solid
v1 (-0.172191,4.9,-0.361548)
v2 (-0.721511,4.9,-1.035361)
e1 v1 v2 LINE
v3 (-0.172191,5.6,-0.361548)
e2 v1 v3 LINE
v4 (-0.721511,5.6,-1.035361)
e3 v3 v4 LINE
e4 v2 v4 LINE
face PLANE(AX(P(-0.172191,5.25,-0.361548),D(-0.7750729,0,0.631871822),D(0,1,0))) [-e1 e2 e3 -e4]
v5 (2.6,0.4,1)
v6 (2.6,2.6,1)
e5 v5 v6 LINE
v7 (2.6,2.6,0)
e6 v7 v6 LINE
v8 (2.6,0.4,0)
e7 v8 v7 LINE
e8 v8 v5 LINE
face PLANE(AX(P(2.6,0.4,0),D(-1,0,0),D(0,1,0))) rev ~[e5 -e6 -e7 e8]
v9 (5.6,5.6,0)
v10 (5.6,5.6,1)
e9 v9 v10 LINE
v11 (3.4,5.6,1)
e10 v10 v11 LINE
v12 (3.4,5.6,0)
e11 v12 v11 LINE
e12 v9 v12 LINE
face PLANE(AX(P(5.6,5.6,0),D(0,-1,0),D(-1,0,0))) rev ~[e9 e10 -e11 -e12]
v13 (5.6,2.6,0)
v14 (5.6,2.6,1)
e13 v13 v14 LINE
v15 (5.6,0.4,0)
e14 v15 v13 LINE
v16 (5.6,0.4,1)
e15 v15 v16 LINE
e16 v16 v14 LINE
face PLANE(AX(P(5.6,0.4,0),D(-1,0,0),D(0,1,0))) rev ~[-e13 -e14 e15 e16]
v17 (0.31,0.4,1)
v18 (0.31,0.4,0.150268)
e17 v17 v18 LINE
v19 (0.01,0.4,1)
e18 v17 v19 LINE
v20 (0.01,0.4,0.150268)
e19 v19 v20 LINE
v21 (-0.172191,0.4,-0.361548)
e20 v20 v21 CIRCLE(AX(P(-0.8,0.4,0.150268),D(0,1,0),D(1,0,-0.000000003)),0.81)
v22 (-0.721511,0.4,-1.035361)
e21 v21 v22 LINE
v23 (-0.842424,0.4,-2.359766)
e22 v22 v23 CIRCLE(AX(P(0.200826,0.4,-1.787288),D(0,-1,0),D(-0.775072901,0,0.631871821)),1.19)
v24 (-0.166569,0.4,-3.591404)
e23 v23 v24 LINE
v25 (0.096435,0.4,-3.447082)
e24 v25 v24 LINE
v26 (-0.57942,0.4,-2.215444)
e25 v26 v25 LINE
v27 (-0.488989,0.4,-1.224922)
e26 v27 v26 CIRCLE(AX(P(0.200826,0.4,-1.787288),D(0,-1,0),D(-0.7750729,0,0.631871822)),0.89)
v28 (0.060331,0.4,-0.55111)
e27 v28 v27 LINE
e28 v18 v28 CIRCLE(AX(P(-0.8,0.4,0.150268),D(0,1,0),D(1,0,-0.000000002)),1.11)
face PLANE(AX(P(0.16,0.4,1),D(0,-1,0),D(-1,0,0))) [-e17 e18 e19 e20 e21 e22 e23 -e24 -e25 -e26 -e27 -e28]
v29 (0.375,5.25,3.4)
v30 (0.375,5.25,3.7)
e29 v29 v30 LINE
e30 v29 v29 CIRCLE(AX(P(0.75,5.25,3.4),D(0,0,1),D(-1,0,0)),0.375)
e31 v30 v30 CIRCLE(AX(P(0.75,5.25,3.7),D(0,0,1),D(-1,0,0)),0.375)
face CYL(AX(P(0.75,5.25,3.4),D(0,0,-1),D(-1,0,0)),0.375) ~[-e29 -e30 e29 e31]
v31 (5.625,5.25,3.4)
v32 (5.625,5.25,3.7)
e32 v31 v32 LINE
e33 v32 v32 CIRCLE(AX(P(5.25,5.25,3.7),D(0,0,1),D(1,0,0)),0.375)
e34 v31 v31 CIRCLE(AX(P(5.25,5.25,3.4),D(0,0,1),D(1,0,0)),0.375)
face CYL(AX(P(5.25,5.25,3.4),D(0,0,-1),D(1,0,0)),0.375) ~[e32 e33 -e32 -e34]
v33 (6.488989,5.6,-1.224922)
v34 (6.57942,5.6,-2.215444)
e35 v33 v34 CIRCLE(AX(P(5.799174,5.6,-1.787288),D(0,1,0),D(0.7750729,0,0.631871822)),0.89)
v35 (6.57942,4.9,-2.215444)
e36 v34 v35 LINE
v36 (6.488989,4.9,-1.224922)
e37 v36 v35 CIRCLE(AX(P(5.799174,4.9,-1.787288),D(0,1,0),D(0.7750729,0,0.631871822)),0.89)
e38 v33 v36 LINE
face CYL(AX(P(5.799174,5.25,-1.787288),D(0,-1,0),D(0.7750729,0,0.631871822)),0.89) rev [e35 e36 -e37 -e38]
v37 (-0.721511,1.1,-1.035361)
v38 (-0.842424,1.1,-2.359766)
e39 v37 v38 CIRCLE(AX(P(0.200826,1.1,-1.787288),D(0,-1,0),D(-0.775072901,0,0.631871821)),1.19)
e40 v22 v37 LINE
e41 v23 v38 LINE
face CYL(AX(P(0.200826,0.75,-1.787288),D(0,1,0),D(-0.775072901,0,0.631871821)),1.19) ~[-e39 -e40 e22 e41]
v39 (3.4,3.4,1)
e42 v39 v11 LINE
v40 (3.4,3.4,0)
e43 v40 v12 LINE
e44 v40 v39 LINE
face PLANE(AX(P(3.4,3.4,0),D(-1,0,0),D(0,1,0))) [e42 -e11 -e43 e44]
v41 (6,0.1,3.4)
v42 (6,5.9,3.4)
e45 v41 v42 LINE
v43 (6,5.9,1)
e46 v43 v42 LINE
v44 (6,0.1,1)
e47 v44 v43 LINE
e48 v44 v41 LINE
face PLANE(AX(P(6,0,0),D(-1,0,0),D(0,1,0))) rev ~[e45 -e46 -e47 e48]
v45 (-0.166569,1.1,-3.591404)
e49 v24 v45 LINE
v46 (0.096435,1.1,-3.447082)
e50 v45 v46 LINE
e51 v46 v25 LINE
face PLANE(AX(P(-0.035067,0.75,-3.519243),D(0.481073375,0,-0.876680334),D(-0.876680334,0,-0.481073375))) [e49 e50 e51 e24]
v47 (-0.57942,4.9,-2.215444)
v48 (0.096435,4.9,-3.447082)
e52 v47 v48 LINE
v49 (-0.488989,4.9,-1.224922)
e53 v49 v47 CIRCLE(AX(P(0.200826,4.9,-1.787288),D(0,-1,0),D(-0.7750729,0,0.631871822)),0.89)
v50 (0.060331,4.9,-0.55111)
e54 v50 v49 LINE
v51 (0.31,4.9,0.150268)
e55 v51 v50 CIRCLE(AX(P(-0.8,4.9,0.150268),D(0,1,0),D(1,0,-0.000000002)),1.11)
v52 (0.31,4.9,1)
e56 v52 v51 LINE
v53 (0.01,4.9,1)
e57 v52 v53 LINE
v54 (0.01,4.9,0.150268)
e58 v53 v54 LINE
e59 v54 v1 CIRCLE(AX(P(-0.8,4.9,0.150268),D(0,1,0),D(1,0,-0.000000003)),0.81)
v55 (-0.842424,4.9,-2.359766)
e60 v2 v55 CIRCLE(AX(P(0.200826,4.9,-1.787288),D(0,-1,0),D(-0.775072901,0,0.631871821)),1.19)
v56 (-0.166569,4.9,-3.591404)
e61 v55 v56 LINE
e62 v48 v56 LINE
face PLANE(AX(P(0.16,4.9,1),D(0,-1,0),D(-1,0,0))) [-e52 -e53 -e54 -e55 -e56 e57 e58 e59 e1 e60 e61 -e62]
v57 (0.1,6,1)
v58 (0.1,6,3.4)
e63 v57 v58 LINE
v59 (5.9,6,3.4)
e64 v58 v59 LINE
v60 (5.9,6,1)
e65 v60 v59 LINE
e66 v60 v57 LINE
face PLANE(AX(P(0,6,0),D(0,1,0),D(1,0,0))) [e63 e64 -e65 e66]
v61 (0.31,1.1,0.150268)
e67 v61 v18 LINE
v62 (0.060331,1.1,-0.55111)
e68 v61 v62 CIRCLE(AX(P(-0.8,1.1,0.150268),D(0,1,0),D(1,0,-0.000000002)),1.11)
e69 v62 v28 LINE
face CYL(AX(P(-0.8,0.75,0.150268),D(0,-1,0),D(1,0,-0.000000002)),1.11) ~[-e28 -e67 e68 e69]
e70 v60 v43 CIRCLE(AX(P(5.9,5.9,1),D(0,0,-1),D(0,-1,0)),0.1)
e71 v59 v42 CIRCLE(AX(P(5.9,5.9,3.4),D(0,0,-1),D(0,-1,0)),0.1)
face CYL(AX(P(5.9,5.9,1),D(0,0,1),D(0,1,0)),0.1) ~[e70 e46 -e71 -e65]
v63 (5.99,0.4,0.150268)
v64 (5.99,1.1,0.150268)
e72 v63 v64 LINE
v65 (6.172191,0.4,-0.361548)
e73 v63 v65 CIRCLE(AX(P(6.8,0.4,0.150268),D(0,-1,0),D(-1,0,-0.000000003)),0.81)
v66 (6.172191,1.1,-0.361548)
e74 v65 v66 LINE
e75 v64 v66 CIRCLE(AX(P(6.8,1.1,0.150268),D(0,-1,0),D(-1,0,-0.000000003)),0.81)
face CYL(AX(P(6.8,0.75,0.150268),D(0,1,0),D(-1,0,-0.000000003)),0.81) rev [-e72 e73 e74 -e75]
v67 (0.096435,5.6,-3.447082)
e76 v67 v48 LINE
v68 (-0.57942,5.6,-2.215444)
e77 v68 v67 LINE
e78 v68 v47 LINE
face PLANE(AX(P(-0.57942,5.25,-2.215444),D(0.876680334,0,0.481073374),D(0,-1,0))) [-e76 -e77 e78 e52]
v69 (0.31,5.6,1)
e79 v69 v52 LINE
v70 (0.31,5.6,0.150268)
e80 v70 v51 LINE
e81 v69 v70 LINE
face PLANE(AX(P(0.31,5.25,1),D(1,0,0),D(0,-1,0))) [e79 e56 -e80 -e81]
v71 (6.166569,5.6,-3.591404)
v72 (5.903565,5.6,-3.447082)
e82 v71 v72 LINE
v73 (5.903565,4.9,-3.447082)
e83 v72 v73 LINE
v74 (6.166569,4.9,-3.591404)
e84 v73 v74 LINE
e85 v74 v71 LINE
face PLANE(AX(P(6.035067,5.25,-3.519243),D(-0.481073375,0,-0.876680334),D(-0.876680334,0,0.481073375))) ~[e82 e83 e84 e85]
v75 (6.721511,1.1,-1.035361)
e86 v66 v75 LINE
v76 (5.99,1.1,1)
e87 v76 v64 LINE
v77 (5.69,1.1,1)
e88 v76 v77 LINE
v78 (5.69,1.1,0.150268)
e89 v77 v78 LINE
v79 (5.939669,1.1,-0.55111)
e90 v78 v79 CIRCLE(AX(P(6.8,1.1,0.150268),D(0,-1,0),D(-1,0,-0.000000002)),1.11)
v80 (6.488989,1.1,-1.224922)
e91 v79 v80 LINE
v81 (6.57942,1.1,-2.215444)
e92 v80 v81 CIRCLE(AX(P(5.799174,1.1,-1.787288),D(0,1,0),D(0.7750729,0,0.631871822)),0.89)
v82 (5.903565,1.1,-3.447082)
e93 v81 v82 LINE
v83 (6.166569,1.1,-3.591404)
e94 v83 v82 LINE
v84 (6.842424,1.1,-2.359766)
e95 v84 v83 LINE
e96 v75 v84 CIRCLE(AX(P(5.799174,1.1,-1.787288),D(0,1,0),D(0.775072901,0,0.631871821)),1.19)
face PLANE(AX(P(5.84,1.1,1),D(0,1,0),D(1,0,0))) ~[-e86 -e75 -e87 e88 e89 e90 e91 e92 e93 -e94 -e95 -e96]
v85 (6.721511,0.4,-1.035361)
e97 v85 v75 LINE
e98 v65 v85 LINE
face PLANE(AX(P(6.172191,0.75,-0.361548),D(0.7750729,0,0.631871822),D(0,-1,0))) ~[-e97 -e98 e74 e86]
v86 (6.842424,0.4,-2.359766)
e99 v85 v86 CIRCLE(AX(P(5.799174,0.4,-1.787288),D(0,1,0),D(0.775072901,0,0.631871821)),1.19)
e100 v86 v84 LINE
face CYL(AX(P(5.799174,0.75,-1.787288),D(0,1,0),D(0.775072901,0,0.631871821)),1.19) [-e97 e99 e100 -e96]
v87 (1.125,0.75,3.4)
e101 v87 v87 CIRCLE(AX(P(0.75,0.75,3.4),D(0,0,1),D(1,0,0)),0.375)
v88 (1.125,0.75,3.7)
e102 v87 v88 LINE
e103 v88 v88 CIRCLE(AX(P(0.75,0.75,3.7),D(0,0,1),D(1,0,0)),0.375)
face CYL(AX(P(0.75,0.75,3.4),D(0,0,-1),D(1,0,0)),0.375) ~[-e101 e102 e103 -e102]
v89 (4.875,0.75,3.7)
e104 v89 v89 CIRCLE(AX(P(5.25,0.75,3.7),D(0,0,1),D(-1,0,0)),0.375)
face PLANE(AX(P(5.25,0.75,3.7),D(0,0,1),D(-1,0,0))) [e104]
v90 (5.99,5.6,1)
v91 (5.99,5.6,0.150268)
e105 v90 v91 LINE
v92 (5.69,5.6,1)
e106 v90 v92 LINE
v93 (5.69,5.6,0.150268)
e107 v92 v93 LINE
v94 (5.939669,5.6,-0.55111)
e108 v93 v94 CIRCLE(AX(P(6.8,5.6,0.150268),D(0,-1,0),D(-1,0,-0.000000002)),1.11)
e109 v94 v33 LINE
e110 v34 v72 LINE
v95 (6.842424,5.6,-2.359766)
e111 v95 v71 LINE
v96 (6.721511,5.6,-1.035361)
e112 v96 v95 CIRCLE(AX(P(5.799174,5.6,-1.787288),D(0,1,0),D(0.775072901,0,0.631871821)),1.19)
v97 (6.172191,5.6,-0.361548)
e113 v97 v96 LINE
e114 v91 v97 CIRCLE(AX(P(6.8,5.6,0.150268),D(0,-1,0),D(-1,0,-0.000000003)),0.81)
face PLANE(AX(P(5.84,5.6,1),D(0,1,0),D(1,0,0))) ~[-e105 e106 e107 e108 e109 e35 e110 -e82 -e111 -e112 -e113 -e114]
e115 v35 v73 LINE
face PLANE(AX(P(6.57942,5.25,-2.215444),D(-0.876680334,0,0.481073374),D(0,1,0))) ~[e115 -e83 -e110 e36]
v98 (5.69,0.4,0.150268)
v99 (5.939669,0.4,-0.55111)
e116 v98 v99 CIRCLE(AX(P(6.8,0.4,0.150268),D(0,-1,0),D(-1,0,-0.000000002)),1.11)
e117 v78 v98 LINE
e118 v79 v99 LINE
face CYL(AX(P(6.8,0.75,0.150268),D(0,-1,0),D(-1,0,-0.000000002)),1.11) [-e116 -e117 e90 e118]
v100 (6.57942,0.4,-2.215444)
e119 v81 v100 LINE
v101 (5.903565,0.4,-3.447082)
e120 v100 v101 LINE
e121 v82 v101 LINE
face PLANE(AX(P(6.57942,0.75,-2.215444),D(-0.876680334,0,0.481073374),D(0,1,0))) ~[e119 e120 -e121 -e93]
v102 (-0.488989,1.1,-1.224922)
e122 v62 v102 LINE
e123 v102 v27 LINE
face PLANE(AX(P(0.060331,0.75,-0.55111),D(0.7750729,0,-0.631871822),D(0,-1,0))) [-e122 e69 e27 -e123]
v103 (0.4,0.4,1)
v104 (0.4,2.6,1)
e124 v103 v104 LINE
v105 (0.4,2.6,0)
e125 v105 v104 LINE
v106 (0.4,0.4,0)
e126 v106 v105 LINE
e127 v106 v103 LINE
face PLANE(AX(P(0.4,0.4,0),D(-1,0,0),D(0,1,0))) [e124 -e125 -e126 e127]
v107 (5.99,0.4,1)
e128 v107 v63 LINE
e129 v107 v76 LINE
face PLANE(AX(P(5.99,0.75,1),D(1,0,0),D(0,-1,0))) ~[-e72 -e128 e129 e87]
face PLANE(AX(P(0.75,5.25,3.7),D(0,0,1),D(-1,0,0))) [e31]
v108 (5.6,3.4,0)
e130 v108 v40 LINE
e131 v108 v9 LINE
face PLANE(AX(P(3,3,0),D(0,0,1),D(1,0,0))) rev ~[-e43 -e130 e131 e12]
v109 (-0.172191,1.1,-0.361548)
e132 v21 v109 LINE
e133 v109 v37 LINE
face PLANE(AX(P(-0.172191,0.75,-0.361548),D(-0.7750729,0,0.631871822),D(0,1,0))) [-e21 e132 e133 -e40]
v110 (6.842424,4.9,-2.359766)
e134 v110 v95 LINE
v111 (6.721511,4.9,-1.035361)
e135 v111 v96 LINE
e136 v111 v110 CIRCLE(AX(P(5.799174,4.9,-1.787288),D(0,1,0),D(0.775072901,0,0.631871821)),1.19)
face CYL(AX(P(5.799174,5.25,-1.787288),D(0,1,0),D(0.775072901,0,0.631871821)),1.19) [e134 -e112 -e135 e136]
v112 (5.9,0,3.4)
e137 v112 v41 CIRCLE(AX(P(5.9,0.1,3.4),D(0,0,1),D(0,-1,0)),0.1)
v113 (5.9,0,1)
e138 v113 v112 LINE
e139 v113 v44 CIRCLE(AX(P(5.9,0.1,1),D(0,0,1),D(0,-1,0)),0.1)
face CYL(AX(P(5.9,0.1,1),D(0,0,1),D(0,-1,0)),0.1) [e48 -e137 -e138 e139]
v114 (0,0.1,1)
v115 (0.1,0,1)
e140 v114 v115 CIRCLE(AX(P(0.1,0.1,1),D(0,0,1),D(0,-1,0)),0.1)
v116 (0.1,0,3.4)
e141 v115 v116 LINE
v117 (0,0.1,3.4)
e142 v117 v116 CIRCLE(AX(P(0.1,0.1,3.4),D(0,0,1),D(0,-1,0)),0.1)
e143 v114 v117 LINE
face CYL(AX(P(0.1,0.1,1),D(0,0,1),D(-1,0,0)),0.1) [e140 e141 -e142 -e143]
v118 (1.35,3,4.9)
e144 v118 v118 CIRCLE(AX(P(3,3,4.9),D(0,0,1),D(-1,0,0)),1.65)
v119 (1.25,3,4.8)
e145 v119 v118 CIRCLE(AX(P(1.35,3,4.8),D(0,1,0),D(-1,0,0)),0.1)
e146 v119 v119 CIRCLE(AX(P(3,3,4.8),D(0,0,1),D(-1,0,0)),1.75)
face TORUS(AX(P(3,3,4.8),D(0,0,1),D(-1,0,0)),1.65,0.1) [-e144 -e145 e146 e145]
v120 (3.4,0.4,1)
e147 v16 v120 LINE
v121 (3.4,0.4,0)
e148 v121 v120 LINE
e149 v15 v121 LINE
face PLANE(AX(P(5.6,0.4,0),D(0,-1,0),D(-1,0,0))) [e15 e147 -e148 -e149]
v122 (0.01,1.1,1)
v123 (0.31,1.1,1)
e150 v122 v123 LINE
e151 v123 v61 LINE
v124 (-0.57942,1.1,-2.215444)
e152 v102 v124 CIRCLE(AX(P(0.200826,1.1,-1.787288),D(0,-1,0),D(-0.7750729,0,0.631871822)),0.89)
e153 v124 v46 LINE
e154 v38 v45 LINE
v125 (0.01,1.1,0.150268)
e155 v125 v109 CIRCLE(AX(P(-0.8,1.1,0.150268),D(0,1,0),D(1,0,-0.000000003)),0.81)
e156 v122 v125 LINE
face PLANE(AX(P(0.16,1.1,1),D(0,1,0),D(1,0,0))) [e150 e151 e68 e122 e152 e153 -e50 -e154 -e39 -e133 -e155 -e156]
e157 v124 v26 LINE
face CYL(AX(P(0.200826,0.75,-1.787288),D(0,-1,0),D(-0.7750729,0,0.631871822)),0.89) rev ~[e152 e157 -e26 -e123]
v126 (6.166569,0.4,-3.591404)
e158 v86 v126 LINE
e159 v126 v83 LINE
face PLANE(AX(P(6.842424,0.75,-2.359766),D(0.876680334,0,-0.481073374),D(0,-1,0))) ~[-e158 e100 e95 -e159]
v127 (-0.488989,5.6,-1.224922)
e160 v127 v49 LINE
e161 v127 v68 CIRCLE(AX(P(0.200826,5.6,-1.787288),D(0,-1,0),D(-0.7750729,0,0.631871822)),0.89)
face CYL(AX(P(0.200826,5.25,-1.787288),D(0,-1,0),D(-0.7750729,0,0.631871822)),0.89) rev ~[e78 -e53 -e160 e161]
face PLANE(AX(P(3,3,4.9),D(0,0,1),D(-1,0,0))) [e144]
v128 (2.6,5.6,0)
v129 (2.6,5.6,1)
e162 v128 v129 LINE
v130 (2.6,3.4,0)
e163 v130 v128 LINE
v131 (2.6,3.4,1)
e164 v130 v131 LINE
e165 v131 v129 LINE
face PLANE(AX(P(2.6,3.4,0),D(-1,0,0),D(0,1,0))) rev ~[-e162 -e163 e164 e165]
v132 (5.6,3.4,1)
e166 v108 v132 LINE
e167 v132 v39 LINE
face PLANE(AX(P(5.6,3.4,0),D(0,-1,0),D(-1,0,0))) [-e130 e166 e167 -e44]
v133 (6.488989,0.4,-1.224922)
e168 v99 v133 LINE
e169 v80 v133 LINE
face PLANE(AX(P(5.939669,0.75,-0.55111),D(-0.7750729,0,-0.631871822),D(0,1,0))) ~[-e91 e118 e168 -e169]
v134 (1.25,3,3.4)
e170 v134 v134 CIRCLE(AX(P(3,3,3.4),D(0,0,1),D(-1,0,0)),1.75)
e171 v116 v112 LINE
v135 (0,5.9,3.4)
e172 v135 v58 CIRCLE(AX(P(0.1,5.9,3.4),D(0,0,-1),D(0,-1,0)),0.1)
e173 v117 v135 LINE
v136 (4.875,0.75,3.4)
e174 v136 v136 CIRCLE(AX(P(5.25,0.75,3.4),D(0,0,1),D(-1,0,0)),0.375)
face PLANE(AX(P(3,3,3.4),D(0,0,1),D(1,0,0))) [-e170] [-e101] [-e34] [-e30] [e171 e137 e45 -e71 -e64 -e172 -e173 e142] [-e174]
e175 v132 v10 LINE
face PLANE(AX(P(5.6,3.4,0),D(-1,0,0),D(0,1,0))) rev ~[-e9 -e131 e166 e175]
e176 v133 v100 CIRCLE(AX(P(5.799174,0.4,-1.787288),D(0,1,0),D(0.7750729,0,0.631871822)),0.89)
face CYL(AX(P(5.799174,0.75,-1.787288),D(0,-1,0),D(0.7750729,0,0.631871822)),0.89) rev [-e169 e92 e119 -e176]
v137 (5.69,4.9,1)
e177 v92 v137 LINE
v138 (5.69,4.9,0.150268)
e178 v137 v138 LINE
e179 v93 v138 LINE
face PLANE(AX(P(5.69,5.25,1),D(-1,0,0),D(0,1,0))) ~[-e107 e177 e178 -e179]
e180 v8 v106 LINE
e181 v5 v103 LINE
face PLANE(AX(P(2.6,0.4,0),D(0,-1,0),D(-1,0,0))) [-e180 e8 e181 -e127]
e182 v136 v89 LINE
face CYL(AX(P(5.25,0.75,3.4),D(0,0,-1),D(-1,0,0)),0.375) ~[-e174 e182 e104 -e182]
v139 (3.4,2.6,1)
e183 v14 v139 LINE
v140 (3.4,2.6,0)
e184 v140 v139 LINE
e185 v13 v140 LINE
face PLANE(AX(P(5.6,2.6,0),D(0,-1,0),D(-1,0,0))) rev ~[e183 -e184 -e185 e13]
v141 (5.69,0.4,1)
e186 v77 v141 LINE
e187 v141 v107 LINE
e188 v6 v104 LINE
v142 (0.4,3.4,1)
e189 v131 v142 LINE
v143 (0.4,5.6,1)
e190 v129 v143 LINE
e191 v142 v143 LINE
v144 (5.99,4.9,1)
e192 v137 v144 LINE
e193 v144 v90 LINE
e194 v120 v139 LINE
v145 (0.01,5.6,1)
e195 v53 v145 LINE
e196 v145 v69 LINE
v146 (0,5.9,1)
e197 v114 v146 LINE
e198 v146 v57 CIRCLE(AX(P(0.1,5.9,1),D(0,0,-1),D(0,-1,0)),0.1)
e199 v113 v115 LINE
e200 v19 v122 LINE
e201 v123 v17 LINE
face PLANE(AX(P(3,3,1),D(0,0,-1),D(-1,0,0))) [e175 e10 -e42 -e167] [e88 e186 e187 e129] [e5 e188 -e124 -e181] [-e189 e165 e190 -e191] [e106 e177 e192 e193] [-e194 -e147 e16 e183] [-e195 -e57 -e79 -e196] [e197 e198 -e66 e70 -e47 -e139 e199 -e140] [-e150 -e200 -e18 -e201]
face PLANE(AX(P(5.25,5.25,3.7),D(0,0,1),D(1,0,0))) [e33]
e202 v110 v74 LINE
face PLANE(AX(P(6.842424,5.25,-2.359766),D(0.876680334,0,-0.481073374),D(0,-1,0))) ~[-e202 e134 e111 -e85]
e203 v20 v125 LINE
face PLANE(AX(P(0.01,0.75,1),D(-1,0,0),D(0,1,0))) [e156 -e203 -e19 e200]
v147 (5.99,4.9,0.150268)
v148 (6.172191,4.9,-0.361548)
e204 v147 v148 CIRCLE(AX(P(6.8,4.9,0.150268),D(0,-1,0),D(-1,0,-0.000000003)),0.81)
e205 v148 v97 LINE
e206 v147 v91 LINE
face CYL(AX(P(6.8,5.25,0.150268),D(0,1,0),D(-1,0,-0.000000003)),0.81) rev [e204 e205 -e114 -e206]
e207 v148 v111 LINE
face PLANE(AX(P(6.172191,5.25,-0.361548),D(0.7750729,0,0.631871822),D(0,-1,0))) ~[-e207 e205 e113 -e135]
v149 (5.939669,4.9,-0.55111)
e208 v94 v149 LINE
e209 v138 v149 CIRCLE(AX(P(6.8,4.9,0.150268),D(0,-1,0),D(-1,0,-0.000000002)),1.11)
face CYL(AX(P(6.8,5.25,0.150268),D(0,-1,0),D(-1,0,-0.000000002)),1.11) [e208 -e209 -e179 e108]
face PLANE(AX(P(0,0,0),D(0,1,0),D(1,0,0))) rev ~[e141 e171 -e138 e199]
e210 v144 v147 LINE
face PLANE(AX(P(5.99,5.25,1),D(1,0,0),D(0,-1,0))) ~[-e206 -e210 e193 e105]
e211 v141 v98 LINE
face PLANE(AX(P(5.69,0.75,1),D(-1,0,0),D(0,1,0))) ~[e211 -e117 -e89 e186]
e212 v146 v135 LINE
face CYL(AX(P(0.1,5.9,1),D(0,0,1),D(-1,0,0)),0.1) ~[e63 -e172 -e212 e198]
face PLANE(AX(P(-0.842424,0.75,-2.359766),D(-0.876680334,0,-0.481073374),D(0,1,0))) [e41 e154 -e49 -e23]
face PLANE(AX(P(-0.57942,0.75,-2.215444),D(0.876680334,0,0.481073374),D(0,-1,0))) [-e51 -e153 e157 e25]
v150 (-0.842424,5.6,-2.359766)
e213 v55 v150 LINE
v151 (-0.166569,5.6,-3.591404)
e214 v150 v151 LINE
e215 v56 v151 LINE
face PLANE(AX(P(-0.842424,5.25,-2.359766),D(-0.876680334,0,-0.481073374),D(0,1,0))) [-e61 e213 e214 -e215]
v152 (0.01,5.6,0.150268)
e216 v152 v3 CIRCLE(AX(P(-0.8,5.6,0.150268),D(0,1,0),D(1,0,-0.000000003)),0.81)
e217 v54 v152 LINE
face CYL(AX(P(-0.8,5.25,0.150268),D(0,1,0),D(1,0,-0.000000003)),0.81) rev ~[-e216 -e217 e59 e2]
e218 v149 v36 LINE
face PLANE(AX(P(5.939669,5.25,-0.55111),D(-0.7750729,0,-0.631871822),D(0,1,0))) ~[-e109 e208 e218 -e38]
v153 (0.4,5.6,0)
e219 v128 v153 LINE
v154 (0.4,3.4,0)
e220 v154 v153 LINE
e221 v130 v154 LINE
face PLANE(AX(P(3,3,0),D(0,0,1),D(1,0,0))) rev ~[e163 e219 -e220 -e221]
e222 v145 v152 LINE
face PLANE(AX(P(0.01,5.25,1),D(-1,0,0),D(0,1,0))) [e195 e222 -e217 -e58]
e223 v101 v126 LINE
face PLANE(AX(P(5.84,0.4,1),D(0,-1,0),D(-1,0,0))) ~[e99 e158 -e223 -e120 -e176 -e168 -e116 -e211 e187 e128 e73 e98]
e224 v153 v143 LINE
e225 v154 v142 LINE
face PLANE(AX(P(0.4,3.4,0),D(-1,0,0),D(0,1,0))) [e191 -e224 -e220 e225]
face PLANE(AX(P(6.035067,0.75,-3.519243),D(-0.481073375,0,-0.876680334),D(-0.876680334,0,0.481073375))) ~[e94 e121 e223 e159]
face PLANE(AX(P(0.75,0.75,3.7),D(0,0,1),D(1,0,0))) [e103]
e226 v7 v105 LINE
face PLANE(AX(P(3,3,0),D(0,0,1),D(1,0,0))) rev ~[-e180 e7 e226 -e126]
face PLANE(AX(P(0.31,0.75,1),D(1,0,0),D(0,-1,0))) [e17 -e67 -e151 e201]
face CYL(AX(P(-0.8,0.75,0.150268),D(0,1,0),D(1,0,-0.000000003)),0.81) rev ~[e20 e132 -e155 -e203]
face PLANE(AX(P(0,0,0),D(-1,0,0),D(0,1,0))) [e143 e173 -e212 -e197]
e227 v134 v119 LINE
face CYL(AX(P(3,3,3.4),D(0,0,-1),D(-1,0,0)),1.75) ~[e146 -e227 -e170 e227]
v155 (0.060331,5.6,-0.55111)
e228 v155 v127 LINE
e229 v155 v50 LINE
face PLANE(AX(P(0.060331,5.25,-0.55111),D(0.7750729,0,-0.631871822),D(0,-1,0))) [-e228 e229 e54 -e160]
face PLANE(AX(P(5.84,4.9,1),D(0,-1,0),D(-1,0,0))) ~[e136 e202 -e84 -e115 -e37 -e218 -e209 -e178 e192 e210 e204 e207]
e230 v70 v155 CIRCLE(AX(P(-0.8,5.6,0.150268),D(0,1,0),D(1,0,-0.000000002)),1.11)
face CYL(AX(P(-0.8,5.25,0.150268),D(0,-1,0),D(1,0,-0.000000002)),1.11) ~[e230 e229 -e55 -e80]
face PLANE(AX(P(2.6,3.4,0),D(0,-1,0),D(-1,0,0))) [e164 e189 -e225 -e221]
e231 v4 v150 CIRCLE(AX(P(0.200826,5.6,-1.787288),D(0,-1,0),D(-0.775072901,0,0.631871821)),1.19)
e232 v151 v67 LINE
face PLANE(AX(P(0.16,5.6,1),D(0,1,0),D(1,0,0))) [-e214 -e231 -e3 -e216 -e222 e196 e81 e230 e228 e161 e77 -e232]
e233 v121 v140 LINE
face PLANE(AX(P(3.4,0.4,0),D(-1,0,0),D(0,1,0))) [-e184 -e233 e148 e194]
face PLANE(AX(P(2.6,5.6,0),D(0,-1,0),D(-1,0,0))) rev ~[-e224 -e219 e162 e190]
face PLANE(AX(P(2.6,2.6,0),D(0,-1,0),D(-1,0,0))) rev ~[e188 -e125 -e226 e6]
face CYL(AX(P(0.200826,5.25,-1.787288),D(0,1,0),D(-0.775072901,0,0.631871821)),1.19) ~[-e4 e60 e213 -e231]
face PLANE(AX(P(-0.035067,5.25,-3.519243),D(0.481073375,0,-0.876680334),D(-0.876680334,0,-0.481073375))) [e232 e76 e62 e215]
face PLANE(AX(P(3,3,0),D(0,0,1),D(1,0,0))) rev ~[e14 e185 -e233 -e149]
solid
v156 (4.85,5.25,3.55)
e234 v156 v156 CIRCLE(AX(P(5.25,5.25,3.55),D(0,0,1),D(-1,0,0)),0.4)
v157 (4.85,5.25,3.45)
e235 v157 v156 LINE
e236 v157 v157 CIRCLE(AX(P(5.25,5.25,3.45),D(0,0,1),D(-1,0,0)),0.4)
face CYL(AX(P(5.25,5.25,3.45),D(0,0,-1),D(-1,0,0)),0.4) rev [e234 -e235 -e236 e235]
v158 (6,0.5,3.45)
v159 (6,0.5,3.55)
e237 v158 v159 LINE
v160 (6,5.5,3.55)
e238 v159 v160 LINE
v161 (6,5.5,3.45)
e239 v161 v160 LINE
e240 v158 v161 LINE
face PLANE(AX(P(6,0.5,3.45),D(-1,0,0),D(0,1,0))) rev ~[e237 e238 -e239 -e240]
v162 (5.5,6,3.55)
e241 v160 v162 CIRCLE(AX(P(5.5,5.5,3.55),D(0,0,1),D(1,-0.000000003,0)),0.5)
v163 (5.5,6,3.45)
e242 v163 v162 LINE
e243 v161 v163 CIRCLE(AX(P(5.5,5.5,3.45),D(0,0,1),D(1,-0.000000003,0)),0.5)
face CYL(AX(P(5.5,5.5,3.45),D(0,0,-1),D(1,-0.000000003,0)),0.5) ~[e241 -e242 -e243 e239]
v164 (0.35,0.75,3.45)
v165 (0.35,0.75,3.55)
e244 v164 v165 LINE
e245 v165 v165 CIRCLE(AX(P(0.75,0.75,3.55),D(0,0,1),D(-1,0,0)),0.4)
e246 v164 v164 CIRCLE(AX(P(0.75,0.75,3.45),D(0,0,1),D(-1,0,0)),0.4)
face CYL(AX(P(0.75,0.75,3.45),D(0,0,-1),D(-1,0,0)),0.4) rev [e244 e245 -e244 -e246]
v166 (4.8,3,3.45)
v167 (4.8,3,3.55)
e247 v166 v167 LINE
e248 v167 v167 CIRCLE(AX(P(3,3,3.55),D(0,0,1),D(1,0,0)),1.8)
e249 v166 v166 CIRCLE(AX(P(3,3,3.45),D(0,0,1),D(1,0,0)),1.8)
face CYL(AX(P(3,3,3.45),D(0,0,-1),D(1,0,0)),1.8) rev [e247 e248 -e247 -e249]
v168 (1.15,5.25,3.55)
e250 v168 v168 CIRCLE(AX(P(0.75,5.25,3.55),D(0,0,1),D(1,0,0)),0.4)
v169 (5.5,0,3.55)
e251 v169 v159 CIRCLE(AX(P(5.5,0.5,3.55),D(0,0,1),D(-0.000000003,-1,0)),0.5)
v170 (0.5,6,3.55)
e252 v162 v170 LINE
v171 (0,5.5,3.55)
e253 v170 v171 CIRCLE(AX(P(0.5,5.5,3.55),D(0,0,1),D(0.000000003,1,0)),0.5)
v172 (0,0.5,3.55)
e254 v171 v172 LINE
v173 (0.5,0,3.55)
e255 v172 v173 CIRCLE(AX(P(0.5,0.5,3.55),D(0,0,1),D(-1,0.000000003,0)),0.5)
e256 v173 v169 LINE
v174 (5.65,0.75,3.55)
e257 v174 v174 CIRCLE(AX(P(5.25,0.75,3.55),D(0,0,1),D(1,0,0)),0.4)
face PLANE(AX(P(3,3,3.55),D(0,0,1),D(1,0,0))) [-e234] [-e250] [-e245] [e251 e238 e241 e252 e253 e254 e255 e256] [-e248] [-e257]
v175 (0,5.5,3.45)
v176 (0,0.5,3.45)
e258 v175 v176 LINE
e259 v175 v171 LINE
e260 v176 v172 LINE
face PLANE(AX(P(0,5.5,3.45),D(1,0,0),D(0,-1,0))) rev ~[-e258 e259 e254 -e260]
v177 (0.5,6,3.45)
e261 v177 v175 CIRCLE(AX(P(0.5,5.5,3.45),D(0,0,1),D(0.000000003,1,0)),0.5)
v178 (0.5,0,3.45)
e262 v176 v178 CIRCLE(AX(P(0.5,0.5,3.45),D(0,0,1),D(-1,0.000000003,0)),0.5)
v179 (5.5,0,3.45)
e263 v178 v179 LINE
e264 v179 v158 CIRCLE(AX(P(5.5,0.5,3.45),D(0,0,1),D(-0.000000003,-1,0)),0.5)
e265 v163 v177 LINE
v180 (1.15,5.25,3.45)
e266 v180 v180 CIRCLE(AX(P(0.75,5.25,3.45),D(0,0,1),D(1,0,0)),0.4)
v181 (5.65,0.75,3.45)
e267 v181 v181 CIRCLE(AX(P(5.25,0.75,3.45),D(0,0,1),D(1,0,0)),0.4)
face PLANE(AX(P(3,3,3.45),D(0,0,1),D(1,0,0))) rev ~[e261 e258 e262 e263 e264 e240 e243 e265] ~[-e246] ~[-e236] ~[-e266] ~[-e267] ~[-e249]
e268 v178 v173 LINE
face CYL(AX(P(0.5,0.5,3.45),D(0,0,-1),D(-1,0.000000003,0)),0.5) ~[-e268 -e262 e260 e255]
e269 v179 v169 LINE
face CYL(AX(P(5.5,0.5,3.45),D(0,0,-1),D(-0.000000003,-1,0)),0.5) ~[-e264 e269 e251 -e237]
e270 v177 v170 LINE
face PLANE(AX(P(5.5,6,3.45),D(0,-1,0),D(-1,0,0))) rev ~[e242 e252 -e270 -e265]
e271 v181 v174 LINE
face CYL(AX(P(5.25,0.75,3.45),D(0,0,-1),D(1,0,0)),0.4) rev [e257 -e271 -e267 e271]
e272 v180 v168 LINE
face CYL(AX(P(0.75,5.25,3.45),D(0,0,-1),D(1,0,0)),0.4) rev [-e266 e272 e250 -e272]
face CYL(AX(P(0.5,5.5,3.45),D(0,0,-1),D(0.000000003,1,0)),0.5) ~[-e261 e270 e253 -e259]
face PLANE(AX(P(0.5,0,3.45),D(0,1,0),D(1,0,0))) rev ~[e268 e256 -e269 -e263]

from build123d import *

# Parameters (mm, degrees)
SKETCH_1_W          = 6
SKETCH_1_H          = 6
EXTRUDE_1_DEPTH     = 3.4
SKETCH_2_W          = 6
SKETCH_2_H          = 6
SKETCH_2_W_2        = 2.2
SKETCH_2_H_2        = 2.2
CUT_EXTRUDE_1_DEPTH = 1
EXTRUDE_START       = 0.05
SKETCH_3_R          = 0.4
SKETCH_3_R_2        = 1.8
EXTRUDE_2_DEPTH     = 0.1
SKETCH_4_R          = 1.75
EXTRUDE_3_DEPTH     = 1.5
SKETCH_4_3_R        = 0.375
EXTRUDE_4_DEPTH     = 0.3
SKETCH_7_W          = 0.3
SKETCH_7_H          = 0.7
FILLET_1_R          = 0.1


with BuildPart() as part:
    # Эскиз1 → Бобышка-Вытянуть1 (new body)
    with BuildSketch(Plane.XY):
        with Locations((3, 3)):
            Rectangle(SKETCH_1_W, SKETCH_1_H)
    extrude(amount=EXTRUDE_1_DEPTH)

    # Эскиз2 → Вырез-Вытянуть1 (cut)
    with BuildSketch(Plane(origin=(0, 0, 0), x_dir=(-1, 0, 0), z_dir=(0, 0, -1))):
        with Locations((-3, 3)):
            Rectangle(SKETCH_2_W, SKETCH_2_H)
        with Locations((-1.5, 4.5)):
            Rectangle(SKETCH_2_W_2, SKETCH_2_H_2, mode=Mode.SUBTRACT)
        with Locations((-4.5, 4.5)):
            Rectangle(SKETCH_2_W_2, SKETCH_2_H_2, mode=Mode.SUBTRACT)
        with Locations((-1.5, 1.5)):
            Rectangle(SKETCH_2_W_2, SKETCH_2_H_2, mode=Mode.SUBTRACT)
        with Locations((-4.5, 1.5)):
            Rectangle(SKETCH_2_W_2, SKETCH_2_H_2, mode=Mode.SUBTRACT)
    extrude(amount=-CUT_EXTRUDE_1_DEPTH, mode=Mode.SUBTRACT)

    # Эскиз4 → Бобышка-Вытянуть3 (add)
    with BuildSketch(Plane.XY.offset(3.4)):
        with Locations((3, 3)):
            Circle(SKETCH_4_R)
    extrude(amount=EXTRUDE_3_DEPTH)

    # Эскиз4<3> → Бобышка-Вытянуть4 (add)
    with BuildSketch(Plane.XY.offset(3.4)):
        with Locations((0.75, 5.25)):
            Circle(SKETCH_4_3_R)
        with Locations((5.25, 5.25)):
            Circle(SKETCH_4_3_R)
        with Locations((5.25, 0.75)):
            Circle(SKETCH_4_3_R)
        with Locations((0.75, 0.75)):
            Circle(SKETCH_4_3_R)
    extrude(amount=EXTRUDE_4_DEPTH)

    # По траектории1: sweep along a path in Эскиз5
    with BuildLine(Plane.XZ) as sweep_1_path:
        Line((0.2, 1), (0.2, 0.15026769))
        ThreePointArc((0.2, 0.15026769), (0.142091529, -0.185088166), (-0.0249271, -0.481604132))
        Line((-0.0249271, -0.481604132), (-0.574247112, -1.155416509))
        ThreePointArc((-0.574247112, -1.155416509), (-0.795032605, -1.696370452), (-0.675854547, -2.268361705))
        Line((-0.675854547, -2.268361705), (0, -3.5))
    # Эскиз7 → По траектории1 (sweep)
    with BuildSketch(Plane(origin=(0, 0, 1), x_dir=(-1, 0, 0), z_dir=(0, 0, -1))):
        with Locations((-0.16, 0.75)):
            Rectangle(SKETCH_7_W, SKETCH_7_H)
        with Locations((-0.16, 5.25)):
            Rectangle(SKETCH_7_W, SKETCH_7_H)
    sweep_1 = sweep(path=sweep_1_path.line)

    # Зеркальное отражение1: По траектории1 across plane
    add(sweep_1.mirror(Plane.ZY.offset(-3)))

    # Скругление1
    fillet_1_edges = [part.edges().sort_by_distance(p)[0] for p in [
        (1.25, 3, 4.9),
        (6, 6, 2.2),
        (6, 0, 2.2),
        (0, 0, 2.2),
        (0, 6, 2.2),
    ]]
    fillet(fillet_1_edges, radius=FILLET_1_R)


with BuildPart() as body_2:
    # Эскиз3 → Бобышка-Вытянуть2 (new body)
    with BuildSketch(Plane.XY.offset(3.4).offset(EXTRUDE_START)):
        with BuildLine():
            Line((0.5, 0), (5.5, 0))
            ThreePointArc((5.5, 0), (5.853553391, 0.146446609), (6, 0.5))
            Line((6, 0.5), (6, 5.5))
            ThreePointArc((6, 5.5), (5.853553391, 5.853553391), (5.5, 6))
            Line((5.5, 6), (0.5, 6))
            ThreePointArc((0.5, 6), (0.146446609, 5.853553391), (0, 5.5))
            Line((0, 5.5), (0, 0.5))
            ThreePointArc((0, 0.5), (0.146446609, 0.146446609), (0.5, 0))
        make_face()
        with Locations((0.75, 5.25)):
            Circle(SKETCH_3_R, mode=Mode.SUBTRACT)
        with Locations((5.25, 5.25)):
            Circle(SKETCH_3_R, mode=Mode.SUBTRACT)
        with Locations((5.25, 0.75)):
            Circle(SKETCH_3_R, mode=Mode.SUBTRACT)
        with Locations((0.75, 0.75)):
            Circle(SKETCH_3_R, mode=Mode.SUBTRACT)
        with Locations((3, 3)):
            Circle(SKETCH_3_R_2, mode=Mode.SUBTRACT)
    extrude(amount=EXTRUDE_2_DEPTH)


solid = Compound([part.part, body_2.part])
